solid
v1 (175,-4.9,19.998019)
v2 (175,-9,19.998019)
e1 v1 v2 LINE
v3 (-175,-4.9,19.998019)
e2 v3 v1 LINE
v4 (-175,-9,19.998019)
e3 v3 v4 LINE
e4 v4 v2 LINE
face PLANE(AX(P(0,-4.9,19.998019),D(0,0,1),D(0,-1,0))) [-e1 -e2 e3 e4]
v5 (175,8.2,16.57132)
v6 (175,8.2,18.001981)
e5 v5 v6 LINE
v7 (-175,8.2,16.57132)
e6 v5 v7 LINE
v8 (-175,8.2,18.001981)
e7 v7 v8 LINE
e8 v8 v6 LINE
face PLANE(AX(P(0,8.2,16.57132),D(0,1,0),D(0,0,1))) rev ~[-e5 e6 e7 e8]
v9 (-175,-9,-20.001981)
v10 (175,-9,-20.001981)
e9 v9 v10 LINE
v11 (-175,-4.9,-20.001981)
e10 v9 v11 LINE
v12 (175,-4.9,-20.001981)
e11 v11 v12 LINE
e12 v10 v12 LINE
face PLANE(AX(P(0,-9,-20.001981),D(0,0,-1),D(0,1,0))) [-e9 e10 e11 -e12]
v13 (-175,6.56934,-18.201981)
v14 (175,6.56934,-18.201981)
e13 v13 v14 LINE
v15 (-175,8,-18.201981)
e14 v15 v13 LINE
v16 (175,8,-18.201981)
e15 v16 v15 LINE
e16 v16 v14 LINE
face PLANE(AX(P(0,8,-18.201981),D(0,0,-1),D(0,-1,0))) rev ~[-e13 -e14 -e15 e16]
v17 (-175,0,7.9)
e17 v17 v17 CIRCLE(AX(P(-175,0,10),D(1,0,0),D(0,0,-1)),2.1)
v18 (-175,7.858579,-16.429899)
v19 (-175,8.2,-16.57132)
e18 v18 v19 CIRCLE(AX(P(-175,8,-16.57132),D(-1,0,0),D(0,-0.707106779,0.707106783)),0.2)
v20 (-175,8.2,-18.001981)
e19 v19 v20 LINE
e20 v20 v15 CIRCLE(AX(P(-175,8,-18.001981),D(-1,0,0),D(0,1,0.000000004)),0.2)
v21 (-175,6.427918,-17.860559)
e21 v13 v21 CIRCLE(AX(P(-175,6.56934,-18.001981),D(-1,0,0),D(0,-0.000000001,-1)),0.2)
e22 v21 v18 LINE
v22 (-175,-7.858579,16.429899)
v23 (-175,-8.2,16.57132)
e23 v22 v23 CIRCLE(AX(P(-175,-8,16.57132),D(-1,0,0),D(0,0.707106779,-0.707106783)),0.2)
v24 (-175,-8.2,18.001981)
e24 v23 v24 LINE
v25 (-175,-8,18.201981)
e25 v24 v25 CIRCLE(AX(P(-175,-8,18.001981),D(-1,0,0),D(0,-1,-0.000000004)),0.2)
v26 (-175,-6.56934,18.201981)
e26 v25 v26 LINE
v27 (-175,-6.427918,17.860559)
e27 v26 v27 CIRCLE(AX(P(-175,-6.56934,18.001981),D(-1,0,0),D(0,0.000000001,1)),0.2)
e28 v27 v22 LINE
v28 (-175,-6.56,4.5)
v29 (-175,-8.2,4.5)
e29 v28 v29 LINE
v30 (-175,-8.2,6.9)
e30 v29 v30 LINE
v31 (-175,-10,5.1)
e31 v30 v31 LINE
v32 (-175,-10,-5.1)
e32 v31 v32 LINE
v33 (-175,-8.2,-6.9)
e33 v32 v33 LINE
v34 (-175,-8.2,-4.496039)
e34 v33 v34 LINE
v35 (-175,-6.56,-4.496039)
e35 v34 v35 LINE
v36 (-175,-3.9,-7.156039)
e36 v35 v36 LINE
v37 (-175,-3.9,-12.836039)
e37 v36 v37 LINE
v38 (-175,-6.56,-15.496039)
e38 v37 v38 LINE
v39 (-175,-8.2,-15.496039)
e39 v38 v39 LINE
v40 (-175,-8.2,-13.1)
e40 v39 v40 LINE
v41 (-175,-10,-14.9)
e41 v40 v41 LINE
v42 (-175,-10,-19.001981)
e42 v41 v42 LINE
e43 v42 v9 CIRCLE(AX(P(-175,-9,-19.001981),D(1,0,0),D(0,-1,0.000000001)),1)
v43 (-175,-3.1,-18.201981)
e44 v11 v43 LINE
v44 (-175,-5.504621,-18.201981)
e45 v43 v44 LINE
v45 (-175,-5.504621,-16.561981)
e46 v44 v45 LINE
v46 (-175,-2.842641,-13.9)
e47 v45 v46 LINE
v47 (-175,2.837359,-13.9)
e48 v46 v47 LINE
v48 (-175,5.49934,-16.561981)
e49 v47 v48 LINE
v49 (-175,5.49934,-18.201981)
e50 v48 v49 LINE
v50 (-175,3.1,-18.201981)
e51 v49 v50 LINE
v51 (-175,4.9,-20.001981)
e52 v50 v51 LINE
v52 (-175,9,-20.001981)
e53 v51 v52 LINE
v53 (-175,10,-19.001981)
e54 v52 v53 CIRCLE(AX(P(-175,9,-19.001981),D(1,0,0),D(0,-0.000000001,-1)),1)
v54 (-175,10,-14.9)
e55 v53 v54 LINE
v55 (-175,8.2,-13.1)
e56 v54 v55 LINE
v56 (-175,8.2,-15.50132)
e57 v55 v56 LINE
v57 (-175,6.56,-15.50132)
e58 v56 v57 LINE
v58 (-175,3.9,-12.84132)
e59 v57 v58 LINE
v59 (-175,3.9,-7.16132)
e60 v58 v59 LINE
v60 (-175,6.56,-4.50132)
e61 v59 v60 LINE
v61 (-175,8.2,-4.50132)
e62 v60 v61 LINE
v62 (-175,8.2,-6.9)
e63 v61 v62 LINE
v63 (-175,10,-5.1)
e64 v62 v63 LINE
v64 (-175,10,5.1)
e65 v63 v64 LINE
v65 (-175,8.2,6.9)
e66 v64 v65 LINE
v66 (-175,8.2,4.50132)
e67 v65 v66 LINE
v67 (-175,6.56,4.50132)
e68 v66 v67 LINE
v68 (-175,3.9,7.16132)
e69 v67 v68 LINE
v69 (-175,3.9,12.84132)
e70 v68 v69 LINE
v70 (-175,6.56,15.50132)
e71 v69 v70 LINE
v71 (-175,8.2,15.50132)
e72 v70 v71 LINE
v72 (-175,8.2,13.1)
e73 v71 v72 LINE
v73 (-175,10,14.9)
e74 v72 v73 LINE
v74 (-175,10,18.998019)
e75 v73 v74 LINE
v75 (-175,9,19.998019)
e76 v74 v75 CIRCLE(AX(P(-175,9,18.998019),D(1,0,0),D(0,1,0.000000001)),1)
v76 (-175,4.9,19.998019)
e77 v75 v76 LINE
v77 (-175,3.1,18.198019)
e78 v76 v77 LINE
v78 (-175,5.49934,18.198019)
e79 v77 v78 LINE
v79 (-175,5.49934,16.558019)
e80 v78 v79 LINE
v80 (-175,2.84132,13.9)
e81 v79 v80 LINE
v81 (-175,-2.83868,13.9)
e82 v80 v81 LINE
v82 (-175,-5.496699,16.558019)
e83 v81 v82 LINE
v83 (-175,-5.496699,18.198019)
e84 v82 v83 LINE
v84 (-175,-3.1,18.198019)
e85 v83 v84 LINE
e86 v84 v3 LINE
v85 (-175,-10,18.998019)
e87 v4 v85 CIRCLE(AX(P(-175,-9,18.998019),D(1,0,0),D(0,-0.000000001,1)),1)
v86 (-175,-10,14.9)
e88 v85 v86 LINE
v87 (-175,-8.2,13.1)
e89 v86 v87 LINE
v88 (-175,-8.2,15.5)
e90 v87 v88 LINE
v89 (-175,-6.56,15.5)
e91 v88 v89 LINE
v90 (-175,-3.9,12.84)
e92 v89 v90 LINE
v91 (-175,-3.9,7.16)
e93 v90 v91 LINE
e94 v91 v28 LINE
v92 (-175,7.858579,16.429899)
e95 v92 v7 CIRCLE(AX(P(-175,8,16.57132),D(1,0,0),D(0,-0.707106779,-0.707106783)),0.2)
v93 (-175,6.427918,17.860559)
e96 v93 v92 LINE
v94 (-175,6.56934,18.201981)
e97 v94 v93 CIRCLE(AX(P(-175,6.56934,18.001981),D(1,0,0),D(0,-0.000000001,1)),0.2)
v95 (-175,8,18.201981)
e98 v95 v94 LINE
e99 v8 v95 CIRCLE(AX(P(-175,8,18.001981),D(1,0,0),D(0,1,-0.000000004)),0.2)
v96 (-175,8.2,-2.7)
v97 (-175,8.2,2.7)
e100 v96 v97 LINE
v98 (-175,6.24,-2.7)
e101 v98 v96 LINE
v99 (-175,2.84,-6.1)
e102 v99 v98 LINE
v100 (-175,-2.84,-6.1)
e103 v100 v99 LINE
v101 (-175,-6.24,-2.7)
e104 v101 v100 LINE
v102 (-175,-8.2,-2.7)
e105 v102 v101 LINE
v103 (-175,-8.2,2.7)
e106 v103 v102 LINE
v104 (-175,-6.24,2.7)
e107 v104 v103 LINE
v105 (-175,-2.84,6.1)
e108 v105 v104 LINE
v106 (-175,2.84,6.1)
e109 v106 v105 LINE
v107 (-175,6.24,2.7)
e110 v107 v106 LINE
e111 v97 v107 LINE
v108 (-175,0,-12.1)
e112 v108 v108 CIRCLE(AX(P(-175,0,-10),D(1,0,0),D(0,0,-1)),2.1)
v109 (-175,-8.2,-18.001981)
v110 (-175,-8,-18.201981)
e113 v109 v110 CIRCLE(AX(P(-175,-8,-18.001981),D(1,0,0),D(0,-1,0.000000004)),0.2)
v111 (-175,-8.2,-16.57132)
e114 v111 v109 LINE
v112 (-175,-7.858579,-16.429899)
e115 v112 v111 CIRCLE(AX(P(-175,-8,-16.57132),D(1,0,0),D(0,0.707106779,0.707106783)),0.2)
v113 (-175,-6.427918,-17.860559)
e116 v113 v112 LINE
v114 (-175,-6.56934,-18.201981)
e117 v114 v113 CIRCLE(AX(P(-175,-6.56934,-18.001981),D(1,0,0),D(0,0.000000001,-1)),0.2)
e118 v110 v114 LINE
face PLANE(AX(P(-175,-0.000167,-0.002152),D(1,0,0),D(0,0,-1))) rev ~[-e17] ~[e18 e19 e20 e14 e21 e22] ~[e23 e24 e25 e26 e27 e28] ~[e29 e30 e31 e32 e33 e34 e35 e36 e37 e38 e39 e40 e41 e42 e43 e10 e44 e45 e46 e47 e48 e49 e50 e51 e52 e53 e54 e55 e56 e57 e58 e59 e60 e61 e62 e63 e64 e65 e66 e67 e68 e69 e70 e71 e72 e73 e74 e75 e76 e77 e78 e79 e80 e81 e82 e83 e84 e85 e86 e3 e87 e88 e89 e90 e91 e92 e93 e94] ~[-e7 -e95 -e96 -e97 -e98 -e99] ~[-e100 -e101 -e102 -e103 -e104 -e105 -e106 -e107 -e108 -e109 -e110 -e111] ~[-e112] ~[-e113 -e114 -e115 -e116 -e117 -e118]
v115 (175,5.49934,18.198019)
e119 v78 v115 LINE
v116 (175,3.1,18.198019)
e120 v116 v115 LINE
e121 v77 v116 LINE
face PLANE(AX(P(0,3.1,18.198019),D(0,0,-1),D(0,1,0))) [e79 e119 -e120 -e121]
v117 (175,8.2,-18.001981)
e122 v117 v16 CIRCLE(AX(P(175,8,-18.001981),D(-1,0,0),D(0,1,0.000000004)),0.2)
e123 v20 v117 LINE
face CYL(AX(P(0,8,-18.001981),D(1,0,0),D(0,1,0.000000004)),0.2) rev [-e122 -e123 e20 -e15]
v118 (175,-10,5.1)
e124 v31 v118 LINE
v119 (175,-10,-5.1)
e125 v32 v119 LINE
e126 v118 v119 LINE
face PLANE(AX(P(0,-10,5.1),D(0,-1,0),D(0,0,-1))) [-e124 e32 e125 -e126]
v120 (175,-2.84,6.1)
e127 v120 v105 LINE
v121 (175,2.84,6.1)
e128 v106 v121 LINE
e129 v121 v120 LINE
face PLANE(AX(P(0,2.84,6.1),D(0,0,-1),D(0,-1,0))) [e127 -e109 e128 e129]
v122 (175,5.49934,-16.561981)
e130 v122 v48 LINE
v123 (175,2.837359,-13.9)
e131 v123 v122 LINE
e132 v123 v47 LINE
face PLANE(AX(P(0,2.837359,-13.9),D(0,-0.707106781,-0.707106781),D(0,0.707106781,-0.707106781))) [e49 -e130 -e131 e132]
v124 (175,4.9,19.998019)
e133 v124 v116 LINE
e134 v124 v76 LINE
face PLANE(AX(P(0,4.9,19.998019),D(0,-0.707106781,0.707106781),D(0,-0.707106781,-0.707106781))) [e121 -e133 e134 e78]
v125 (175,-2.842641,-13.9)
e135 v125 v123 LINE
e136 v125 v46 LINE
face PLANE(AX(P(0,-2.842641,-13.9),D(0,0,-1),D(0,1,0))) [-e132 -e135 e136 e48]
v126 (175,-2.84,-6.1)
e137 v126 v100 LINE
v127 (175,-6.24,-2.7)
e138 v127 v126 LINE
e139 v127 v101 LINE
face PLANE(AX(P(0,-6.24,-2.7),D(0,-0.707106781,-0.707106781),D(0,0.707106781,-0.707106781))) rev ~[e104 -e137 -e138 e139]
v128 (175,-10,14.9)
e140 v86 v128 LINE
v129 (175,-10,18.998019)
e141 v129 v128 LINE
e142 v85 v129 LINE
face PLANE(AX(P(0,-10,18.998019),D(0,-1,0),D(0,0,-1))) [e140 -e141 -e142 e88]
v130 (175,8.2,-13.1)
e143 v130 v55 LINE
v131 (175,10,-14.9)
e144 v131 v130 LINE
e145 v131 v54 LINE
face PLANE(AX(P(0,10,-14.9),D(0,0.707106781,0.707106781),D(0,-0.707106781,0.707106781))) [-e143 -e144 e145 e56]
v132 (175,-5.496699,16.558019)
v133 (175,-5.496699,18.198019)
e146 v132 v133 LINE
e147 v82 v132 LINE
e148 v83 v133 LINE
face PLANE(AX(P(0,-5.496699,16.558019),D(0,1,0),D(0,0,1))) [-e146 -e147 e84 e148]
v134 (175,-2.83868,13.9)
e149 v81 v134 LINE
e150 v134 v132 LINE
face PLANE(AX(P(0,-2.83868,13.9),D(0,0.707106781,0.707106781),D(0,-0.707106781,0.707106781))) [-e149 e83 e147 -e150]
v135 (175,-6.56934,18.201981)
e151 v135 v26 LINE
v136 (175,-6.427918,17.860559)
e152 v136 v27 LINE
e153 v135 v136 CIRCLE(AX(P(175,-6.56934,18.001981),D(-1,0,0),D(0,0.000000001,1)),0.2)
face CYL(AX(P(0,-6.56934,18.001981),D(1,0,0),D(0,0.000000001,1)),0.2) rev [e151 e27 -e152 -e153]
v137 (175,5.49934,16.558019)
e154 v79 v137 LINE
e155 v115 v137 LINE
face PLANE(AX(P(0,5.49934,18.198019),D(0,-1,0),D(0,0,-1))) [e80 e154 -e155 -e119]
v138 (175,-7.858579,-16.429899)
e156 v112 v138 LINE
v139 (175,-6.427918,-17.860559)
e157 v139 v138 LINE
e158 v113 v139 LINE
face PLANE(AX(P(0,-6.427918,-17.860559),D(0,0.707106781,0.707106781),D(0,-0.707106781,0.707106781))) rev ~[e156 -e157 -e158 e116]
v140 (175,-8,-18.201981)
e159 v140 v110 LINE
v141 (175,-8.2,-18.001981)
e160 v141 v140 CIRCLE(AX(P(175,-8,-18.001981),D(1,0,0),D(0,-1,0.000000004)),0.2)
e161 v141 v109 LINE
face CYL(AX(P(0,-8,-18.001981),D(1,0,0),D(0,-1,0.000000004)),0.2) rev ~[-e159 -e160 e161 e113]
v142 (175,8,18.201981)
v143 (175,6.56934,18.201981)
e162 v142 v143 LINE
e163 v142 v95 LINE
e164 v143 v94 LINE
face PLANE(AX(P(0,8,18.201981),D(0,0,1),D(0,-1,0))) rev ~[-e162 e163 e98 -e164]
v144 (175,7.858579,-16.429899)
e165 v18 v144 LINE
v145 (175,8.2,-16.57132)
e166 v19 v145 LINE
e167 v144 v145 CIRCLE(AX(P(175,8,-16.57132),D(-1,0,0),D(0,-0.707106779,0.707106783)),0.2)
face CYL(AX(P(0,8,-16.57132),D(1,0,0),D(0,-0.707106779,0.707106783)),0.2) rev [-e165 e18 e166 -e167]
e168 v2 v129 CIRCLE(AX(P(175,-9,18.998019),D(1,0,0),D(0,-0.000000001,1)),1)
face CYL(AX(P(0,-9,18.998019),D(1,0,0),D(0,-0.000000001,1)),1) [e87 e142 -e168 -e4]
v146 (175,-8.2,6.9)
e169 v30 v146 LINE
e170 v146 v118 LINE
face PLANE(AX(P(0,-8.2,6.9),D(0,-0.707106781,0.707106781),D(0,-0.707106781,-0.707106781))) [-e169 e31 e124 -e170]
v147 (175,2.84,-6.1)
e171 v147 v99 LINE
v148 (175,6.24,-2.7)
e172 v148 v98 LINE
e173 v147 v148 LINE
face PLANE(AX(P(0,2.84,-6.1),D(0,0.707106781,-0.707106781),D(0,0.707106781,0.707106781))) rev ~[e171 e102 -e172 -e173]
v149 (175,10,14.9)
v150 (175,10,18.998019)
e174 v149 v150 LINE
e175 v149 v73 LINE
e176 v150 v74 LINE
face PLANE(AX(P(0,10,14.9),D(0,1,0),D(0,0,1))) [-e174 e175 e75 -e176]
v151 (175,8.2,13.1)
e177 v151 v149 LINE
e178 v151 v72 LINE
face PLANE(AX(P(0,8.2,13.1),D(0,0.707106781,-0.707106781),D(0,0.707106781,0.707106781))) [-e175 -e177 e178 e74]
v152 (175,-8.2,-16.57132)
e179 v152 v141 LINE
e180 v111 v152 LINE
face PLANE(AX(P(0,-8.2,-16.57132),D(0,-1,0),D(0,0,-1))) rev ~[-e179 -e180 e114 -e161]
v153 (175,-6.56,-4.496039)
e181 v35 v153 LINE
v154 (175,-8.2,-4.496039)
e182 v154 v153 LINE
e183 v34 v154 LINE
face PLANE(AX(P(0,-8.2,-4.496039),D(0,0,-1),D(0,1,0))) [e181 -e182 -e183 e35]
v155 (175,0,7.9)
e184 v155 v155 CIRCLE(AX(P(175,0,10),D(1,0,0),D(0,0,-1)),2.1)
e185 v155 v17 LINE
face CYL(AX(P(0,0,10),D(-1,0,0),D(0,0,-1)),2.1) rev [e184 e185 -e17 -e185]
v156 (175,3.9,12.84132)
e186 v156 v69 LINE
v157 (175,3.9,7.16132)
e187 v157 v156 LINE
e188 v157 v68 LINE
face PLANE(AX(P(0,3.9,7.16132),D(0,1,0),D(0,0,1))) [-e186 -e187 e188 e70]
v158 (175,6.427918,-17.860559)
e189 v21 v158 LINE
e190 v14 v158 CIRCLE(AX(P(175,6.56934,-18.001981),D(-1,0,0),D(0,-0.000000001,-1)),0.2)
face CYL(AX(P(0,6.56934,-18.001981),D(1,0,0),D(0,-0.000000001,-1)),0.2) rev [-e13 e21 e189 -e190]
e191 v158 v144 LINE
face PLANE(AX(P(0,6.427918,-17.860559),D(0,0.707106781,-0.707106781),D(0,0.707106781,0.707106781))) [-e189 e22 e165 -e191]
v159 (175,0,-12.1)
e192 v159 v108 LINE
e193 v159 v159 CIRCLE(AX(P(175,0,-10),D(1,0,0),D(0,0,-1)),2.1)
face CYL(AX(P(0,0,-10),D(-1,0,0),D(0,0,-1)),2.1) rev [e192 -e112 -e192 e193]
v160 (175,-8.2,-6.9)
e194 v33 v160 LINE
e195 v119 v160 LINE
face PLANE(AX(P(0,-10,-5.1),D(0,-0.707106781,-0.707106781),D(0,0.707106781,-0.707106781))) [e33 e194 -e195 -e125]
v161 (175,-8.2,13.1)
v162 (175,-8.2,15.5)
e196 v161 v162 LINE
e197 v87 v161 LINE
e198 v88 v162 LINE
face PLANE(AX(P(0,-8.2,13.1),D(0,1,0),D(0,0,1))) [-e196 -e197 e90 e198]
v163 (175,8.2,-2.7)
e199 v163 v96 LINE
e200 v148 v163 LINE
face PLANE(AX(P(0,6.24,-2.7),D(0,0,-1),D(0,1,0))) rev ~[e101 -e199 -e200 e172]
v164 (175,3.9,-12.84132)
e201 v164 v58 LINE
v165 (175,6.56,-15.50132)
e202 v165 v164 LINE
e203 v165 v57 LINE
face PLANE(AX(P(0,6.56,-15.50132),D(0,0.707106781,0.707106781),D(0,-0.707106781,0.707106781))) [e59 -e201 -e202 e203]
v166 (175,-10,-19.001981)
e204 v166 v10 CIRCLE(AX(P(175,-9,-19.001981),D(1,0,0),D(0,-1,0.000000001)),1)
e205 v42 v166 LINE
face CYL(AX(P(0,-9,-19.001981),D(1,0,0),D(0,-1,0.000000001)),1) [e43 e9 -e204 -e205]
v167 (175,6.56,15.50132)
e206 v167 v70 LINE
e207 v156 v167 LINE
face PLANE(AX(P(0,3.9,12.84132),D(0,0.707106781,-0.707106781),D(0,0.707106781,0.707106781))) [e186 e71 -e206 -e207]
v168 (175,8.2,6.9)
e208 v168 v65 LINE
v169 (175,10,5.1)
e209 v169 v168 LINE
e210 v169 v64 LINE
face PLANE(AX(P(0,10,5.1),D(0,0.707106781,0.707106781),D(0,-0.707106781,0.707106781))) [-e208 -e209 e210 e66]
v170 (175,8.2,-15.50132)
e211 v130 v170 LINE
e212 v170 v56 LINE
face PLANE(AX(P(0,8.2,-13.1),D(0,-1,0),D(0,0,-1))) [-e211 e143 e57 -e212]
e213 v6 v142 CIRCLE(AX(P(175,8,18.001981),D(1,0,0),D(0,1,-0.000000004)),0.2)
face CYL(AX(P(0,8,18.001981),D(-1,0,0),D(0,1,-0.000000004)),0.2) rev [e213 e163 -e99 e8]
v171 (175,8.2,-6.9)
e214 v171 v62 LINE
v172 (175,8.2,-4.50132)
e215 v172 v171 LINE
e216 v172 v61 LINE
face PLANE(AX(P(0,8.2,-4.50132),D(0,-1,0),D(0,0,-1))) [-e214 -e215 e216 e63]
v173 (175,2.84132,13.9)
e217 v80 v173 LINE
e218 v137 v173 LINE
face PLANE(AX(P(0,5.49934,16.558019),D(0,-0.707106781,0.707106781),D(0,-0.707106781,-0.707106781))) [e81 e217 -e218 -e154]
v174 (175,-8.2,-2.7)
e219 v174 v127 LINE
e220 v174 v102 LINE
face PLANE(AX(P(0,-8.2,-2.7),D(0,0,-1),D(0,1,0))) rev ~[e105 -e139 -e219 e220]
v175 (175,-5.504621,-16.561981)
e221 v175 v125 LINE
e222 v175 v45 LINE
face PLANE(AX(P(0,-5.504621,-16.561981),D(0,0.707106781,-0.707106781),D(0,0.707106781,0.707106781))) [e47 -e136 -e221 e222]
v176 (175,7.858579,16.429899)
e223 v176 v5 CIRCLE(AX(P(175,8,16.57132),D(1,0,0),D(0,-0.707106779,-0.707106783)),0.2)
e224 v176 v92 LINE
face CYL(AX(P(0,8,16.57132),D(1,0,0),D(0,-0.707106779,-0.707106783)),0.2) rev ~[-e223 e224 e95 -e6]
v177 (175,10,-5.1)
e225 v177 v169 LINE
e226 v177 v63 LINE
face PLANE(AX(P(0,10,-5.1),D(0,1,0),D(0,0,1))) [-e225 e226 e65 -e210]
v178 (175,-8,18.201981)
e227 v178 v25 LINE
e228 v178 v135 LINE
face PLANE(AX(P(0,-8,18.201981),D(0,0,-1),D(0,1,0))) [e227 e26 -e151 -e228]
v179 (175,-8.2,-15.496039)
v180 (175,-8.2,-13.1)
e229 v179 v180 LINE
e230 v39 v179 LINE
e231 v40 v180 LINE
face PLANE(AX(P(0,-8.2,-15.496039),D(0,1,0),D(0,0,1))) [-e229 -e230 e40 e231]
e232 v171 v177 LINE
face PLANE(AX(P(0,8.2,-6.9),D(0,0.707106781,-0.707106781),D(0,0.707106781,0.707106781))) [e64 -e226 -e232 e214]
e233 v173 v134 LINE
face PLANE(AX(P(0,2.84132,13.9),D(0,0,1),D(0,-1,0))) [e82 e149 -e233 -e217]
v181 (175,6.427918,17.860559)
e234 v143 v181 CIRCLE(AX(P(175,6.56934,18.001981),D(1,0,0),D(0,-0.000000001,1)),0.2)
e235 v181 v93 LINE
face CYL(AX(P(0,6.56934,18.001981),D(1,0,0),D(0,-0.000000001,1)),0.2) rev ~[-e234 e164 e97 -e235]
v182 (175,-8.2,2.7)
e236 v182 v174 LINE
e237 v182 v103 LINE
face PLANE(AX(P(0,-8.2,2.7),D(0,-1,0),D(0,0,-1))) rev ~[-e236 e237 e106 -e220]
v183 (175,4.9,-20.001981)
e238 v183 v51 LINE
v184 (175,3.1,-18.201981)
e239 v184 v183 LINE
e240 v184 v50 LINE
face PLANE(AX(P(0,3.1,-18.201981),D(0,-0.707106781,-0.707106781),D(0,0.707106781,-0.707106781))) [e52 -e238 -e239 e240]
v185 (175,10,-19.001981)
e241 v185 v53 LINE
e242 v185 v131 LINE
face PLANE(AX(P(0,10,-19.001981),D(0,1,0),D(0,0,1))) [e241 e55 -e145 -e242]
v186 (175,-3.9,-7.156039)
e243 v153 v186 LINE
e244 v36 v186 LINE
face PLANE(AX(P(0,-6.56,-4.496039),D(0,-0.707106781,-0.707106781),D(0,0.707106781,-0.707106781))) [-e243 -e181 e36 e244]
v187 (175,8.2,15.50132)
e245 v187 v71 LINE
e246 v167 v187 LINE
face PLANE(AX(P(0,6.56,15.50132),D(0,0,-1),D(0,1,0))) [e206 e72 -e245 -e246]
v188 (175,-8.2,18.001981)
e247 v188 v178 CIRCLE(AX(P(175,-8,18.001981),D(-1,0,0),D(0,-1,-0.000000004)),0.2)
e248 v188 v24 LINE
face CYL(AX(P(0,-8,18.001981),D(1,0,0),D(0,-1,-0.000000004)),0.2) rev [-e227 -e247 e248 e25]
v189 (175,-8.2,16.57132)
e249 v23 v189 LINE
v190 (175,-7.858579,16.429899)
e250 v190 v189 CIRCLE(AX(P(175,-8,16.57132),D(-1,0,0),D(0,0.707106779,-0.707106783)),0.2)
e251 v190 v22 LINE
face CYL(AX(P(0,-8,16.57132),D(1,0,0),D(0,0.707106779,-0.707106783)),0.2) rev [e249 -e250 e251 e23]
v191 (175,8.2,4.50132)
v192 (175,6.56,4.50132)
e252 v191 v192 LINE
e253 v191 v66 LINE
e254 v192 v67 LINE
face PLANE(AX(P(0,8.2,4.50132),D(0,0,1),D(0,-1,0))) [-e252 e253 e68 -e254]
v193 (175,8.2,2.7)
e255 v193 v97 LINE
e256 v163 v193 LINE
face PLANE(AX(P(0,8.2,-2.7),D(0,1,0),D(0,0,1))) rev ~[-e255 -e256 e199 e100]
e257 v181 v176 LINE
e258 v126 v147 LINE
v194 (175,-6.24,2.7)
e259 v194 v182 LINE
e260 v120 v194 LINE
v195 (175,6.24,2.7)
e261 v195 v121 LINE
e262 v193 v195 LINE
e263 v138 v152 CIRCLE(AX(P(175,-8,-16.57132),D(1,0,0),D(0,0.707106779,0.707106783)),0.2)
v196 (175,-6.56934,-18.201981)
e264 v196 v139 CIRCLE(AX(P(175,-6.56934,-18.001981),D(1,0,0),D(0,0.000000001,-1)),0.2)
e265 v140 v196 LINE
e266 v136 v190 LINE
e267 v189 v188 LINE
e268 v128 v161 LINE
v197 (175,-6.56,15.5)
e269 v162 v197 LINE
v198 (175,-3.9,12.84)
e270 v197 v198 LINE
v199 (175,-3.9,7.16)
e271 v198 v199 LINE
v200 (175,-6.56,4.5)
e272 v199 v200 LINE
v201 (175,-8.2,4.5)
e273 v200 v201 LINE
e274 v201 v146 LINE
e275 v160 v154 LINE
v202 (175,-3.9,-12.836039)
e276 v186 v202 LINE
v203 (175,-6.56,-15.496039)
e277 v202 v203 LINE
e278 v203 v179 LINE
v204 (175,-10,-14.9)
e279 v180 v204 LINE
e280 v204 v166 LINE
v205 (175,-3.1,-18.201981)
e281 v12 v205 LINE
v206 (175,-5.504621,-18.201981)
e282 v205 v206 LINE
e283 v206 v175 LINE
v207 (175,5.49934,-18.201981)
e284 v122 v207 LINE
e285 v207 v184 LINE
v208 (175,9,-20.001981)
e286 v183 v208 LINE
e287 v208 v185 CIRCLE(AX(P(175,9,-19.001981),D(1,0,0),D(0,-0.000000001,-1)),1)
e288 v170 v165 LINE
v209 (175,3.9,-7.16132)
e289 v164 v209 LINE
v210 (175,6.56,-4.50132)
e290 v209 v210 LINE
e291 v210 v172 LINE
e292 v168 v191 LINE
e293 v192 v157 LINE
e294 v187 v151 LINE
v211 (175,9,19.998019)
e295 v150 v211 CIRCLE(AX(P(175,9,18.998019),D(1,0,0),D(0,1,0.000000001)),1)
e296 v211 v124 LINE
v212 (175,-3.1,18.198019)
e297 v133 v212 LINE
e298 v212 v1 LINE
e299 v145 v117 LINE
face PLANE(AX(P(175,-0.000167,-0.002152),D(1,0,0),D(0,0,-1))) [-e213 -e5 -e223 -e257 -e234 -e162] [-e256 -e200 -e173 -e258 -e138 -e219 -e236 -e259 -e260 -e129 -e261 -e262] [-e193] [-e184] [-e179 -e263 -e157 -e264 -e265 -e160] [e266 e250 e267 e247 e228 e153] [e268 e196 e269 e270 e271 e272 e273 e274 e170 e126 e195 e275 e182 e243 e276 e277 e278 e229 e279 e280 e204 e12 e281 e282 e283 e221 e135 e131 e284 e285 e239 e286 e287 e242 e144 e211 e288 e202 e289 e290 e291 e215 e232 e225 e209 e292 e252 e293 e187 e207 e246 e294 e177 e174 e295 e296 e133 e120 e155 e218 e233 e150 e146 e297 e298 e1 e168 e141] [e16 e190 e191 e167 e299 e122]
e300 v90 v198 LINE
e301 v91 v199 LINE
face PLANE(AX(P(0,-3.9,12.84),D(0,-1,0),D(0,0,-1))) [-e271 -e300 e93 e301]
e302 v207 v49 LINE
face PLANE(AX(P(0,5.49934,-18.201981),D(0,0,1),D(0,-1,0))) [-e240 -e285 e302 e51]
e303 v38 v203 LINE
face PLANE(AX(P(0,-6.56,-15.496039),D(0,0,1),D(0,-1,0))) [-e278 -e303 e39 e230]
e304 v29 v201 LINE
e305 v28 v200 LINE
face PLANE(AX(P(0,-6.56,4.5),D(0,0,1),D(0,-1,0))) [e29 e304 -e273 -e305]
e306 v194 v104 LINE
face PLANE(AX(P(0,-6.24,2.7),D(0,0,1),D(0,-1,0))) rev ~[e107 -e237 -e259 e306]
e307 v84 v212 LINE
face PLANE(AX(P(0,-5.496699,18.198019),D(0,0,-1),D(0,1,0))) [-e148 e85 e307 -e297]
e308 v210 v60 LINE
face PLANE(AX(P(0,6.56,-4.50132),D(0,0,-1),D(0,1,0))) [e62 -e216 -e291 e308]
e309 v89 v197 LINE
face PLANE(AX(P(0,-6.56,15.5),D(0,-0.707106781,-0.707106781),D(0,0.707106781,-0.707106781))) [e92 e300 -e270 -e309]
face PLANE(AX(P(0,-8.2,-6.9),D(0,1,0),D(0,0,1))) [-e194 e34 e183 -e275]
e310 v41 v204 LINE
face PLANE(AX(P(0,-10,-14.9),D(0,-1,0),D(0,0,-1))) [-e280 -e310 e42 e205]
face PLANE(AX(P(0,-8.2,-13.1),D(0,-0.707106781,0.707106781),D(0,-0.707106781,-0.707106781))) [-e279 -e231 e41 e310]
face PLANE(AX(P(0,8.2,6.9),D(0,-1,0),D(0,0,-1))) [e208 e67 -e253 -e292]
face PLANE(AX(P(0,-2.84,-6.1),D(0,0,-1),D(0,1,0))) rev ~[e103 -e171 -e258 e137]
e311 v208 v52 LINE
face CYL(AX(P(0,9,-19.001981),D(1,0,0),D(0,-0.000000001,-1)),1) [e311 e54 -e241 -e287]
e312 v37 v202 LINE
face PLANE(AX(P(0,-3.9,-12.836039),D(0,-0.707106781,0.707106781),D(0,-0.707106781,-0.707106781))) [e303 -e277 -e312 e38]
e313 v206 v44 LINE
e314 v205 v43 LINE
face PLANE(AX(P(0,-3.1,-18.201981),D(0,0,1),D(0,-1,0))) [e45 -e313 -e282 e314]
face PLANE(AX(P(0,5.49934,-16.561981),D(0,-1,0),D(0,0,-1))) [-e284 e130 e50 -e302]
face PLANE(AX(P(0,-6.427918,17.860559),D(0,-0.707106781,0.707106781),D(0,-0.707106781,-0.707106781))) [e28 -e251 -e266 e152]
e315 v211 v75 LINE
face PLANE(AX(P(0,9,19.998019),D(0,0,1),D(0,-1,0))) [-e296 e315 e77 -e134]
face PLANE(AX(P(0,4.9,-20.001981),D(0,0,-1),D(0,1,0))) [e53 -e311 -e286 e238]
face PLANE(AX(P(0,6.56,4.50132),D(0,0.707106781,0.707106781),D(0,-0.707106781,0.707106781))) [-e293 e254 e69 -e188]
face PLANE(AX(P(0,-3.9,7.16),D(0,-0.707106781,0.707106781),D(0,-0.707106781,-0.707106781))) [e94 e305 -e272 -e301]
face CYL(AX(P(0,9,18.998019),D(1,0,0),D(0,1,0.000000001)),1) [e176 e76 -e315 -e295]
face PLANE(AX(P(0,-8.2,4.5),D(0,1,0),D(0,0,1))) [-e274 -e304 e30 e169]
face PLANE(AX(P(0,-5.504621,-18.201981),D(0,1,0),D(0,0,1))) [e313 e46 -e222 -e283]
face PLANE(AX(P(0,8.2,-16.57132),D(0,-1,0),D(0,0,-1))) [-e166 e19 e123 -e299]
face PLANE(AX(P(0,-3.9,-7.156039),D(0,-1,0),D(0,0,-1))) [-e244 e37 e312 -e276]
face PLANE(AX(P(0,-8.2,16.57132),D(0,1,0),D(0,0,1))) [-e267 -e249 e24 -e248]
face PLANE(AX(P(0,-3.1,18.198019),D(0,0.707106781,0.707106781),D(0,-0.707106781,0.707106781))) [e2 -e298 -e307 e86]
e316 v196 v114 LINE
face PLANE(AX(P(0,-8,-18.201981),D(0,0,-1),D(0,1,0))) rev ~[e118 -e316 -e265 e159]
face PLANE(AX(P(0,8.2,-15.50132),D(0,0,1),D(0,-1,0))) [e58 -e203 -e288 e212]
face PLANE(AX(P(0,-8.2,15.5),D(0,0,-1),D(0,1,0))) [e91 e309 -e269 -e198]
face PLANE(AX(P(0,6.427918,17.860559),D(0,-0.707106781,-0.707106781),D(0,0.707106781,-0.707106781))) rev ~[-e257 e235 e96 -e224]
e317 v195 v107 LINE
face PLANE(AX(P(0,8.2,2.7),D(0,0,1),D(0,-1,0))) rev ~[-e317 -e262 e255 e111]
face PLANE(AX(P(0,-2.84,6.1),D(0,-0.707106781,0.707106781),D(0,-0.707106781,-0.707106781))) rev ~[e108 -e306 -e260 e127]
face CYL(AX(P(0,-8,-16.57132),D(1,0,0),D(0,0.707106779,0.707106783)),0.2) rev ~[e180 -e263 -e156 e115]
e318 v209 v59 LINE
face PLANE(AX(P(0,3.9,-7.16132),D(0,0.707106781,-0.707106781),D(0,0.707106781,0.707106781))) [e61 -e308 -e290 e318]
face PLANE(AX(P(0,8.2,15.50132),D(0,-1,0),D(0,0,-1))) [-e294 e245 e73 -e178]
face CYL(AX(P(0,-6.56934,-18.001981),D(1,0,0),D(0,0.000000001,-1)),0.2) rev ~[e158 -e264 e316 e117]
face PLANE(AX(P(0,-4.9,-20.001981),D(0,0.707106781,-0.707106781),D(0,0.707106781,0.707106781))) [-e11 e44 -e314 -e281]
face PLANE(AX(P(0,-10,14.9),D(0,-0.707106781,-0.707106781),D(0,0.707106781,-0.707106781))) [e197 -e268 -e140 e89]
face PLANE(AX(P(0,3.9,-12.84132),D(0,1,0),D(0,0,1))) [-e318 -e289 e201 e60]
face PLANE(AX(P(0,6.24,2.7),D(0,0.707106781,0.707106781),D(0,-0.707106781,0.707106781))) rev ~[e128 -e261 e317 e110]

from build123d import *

# Parameters (mm, degrees)
SKETCH5_R           = 2.1
BOSS_EXTRUDE1_DEPTH = 175


with BuildPart() as part:
    # Sketch5 → Boss-Extrude1 (new body, symmetric)
    with BuildSketch(Plane(origin=(0, 0, 0), x_dir=(0, 0, -1), z_dir=(1, 0, 0))):
        with BuildLine():
            Line((-19.998019485, 4.9), (-18.198019485, 3.1))
            Line((-18.198019485, 3.1), (-18.198019485, 5.499339828))
            Line((-18.198019485, 5.499339828), (-16.558019485, 5.499339828))
            Line((-16.558019485, 5.499339828), (-13.9, 2.841320344))
            Line((-13.9, 2.841320344), (-13.9, -2.838679656))
            Line((-13.9, -2.838679656), (-16.558019485, -5.496699141))
            Line((-16.558019485, -5.496699141), (-18.198019485, -5.496699141))
            Line((-18.198019485, -5.496699141), (-18.198019485, -3.1))
            Line((-18.198019485, -3.1), (-19.998019485, -4.9))
            Line((-19.998019485, -4.9), (-19.998019485, -9))
            ThreePointArc((-19.998019485, -9), (-19.705126266, -9.707106781), (-18.998019485, -10))
            Line((-18.998019485, -10), (-14.9, -10))
            Line((-14.9, -10), (-13.1, -8.2))
            Line((-13.1, -8.2), (-15.5, -8.2))
            Line((-15.5, -8.2), (-15.5, -6.56))
            Line((-15.5, -6.56), (-12.84, -3.9))
            Line((-12.84, -3.9), (-7.16, -3.9))
            Line((-7.16, -3.9), (-4.5, -6.56))
            Line((-4.5, -6.56), (-4.5, -8.2))
            Line((-4.5, -8.2), (-6.9, -8.2))
            Line((-6.9, -8.2), (-5.1, -10))
            Line((-5.1, -10), (5.1, -10))
            Line((5.1, -10), (6.9, -8.2))
            Line((6.9, -8.2), (4.496038969, -8.2))
            Line((4.496038969, -8.2), (4.496038969, -6.56))
            Line((4.496038969, -6.56), (7.156038969, -3.9))
            Line((7.156038969, -3.9), (12.836038969, -3.9))
            Line((12.836038969, -3.9), (15.496038969, -6.56))
            Line((15.496038969, -6.56), (15.496038969, -8.2))
            Line((15.496038969, -8.2), (13.1, -8.2))
            Line((13.1, -8.2), (14.9, -10))
            Line((14.9, -10), (19.001980515, -10))
            ThreePointArc((19.001980515, -10), (19.709087297, -9.707106781), (20.001980515, -9))
            Line((20.001980515, -9), (20.001980515, -4.9))
            Line((20.001980515, -4.9), (18.201980515, -3.1))
            Line((18.201980515, -3.1), (18.201980515, -5.504621202))
            Line((18.201980515, -5.504621202), (16.561980515, -5.504621202))
            Line((16.561980515, -5.504621202), (13.9, -2.842640687))
            Line((13.9, -2.842640687), (13.9, 2.837359313))
            Line((13.9, 2.837359313), (16.561980515, 5.499339828))
            Line((16.561980515, 5.499339828), (18.201980515, 5.499339828))
            Line((18.201980515, 5.499339828), (18.201980515, 3.1))
            Line((18.201980515, 3.1), (20.001980515, 4.9))
            Line((20.001980515, 4.9), (20.001980515, 9))
            ThreePointArc((20.001980515, 9), (19.709087297, 9.707106781), (19.001980515, 10))
            Line((19.001980515, 10), (14.9, 10))
            Line((14.9, 10), (13.1, 8.2))
            Line((13.1, 8.2), (15.501320344, 8.2))
            Line((15.501320344, 8.2), (15.501320344, 6.56))
            Line((15.501320344, 6.56), (12.841320344, 3.9))
            Line((12.841320344, 3.9), (7.161320344, 3.9))
            Line((7.161320344, 3.9), (4.501320344, 6.56))
            Line((4.501320344, 6.56), (4.501320344, 8.2))
            Line((4.501320344, 8.2), (6.9, 8.2))
            Line((6.9, 8.2), (5.1, 10))
            Line((5.1, 10), (-5.1, 10))
            Line((-5.1, 10), (-6.9, 8.2))
            Line((-6.9, 8.2), (-4.501320344, 8.2))
            Line((-4.501320344, 8.2), (-4.501320344, 6.56))
            Line((-4.501320344, 6.56), (-7.161320344, 3.9))
            Line((-7.161320344, 3.9), (-12.841320344, 3.9))
            Line((-12.841320344, 3.9), (-15.501320344, 6.56))
            Line((-15.501320344, 6.56), (-15.501320344, 8.2))
            Line((-15.501320344, 8.2), (-13.1, 8.2))
            Line((-13.1, 8.2), (-14.9, 10))
            Line((-14.9, 10), (-18.998019485, 10))
            ThreePointArc((-18.998019485, 10), (-19.705126266, 9.707106781), (-19.998019485, 9))
            Line((-19.998019485, 9), (-19.998019485, 4.9))
        make_face()
        with Locations((-10, 0)):
            Circle(SKETCH5_R, mode=Mode.SUBTRACT)
        with Locations((10, 0)):
            Circle(SKETCH5_R, mode=Mode.SUBTRACT)
        Polygon((6.1, -2.84), (6.1, 2.84), (2.7, 6.24), (2.7, 8.2), (-2.7, 8.2), (-2.7, 6.24), (-6.1, 2.84), (-6.1, -2.84), (-2.7, -6.24), (-2.7, -8.2), (2.7, -8.2), (2.7, -6.24), align=None, mode=Mode.SUBTRACT)
        with BuildLine():
            Line((16.571320344, 8.2), (18.001980515, 8.2))
            ThreePointArc((18.001980515, 8.2), (18.143401872, 8.141421356), (18.201980515, 8))
            Line((18.201980515, 8), (18.201980515, 6.569339828))
            ThreePointArc((18.201980515, 6.569339828), (18.078517202, 6.384563922), (17.860559159, 6.427918472))
            Line((17.860559159, 6.427918472), (16.429898987, 7.858578644))
            ThreePointArc((16.429898987, 7.858578644), (16.386544437, 8.076536686), (16.571320344, 8.2))
        make_face(mode=Mode.SUBTRACT)
        with BuildLine():
            Line((16.571320344, -8.2), (18.001980515, -8.2))
            ThreePointArc((18.001980515, -8.2), (18.143401872, -8.141421356), (18.201980515, -8))
            Line((18.201980515, -8), (18.201980515, -6.569339828))
            ThreePointArc((18.201980515, -6.569339828), (18.078517202, -6.384563922), (17.860559159, -6.427918472))
            Line((17.860559159, -6.427918472), (16.429898987, -7.858578644))
            ThreePointArc((16.429898987, -7.858578644), (16.386544437, -8.076536686), (16.571320344, -8.2))
        make_face(mode=Mode.SUBTRACT)
        with BuildLine():
            Line((-17.860559159, 6.427918472), (-16.429898987, 7.858578644))
            ThreePointArc((-16.429898987, 7.858578644), (-16.386544437, 8.076536686), (-16.571320344, 8.2))
            Line((-16.571320344, 8.2), (-18.001980515, 8.2))
            ThreePointArc((-18.001980515, 8.2), (-18.143401872, 8.141421356), (-18.201980515, 8))
            Line((-18.201980515, 8), (-18.201980515, 6.569339828))
            ThreePointArc((-18.201980515, 6.569339828), (-18.078517202, 6.384563922), (-17.860559159, 6.427918472))
        make_face(mode=Mode.SUBTRACT)
        with BuildLine():
            Line((-16.571320344, -8.2), (-18.001980515, -8.2))
            ThreePointArc((-18.001980515, -8.2), (-18.143401872, -8.141421356), (-18.201980515, -8))
            Line((-18.201980515, -8), (-18.201980515, -6.569339828))
            ThreePointArc((-18.201980515, -6.569339828), (-18.078517202, -6.384563922), (-17.860559159, -6.427918472))
            Line((-17.860559159, -6.427918472), (-16.429898987, -7.858578644))
            ThreePointArc((-16.429898987, -7.858578644), (-16.386544437, -8.076536686), (-16.571320344, -8.2))
        make_face(mode=Mode.SUBTRACT)
    extrude(amount=BOSS_EXTRUDE1_DEPTH, both=True)


solid = part.part
